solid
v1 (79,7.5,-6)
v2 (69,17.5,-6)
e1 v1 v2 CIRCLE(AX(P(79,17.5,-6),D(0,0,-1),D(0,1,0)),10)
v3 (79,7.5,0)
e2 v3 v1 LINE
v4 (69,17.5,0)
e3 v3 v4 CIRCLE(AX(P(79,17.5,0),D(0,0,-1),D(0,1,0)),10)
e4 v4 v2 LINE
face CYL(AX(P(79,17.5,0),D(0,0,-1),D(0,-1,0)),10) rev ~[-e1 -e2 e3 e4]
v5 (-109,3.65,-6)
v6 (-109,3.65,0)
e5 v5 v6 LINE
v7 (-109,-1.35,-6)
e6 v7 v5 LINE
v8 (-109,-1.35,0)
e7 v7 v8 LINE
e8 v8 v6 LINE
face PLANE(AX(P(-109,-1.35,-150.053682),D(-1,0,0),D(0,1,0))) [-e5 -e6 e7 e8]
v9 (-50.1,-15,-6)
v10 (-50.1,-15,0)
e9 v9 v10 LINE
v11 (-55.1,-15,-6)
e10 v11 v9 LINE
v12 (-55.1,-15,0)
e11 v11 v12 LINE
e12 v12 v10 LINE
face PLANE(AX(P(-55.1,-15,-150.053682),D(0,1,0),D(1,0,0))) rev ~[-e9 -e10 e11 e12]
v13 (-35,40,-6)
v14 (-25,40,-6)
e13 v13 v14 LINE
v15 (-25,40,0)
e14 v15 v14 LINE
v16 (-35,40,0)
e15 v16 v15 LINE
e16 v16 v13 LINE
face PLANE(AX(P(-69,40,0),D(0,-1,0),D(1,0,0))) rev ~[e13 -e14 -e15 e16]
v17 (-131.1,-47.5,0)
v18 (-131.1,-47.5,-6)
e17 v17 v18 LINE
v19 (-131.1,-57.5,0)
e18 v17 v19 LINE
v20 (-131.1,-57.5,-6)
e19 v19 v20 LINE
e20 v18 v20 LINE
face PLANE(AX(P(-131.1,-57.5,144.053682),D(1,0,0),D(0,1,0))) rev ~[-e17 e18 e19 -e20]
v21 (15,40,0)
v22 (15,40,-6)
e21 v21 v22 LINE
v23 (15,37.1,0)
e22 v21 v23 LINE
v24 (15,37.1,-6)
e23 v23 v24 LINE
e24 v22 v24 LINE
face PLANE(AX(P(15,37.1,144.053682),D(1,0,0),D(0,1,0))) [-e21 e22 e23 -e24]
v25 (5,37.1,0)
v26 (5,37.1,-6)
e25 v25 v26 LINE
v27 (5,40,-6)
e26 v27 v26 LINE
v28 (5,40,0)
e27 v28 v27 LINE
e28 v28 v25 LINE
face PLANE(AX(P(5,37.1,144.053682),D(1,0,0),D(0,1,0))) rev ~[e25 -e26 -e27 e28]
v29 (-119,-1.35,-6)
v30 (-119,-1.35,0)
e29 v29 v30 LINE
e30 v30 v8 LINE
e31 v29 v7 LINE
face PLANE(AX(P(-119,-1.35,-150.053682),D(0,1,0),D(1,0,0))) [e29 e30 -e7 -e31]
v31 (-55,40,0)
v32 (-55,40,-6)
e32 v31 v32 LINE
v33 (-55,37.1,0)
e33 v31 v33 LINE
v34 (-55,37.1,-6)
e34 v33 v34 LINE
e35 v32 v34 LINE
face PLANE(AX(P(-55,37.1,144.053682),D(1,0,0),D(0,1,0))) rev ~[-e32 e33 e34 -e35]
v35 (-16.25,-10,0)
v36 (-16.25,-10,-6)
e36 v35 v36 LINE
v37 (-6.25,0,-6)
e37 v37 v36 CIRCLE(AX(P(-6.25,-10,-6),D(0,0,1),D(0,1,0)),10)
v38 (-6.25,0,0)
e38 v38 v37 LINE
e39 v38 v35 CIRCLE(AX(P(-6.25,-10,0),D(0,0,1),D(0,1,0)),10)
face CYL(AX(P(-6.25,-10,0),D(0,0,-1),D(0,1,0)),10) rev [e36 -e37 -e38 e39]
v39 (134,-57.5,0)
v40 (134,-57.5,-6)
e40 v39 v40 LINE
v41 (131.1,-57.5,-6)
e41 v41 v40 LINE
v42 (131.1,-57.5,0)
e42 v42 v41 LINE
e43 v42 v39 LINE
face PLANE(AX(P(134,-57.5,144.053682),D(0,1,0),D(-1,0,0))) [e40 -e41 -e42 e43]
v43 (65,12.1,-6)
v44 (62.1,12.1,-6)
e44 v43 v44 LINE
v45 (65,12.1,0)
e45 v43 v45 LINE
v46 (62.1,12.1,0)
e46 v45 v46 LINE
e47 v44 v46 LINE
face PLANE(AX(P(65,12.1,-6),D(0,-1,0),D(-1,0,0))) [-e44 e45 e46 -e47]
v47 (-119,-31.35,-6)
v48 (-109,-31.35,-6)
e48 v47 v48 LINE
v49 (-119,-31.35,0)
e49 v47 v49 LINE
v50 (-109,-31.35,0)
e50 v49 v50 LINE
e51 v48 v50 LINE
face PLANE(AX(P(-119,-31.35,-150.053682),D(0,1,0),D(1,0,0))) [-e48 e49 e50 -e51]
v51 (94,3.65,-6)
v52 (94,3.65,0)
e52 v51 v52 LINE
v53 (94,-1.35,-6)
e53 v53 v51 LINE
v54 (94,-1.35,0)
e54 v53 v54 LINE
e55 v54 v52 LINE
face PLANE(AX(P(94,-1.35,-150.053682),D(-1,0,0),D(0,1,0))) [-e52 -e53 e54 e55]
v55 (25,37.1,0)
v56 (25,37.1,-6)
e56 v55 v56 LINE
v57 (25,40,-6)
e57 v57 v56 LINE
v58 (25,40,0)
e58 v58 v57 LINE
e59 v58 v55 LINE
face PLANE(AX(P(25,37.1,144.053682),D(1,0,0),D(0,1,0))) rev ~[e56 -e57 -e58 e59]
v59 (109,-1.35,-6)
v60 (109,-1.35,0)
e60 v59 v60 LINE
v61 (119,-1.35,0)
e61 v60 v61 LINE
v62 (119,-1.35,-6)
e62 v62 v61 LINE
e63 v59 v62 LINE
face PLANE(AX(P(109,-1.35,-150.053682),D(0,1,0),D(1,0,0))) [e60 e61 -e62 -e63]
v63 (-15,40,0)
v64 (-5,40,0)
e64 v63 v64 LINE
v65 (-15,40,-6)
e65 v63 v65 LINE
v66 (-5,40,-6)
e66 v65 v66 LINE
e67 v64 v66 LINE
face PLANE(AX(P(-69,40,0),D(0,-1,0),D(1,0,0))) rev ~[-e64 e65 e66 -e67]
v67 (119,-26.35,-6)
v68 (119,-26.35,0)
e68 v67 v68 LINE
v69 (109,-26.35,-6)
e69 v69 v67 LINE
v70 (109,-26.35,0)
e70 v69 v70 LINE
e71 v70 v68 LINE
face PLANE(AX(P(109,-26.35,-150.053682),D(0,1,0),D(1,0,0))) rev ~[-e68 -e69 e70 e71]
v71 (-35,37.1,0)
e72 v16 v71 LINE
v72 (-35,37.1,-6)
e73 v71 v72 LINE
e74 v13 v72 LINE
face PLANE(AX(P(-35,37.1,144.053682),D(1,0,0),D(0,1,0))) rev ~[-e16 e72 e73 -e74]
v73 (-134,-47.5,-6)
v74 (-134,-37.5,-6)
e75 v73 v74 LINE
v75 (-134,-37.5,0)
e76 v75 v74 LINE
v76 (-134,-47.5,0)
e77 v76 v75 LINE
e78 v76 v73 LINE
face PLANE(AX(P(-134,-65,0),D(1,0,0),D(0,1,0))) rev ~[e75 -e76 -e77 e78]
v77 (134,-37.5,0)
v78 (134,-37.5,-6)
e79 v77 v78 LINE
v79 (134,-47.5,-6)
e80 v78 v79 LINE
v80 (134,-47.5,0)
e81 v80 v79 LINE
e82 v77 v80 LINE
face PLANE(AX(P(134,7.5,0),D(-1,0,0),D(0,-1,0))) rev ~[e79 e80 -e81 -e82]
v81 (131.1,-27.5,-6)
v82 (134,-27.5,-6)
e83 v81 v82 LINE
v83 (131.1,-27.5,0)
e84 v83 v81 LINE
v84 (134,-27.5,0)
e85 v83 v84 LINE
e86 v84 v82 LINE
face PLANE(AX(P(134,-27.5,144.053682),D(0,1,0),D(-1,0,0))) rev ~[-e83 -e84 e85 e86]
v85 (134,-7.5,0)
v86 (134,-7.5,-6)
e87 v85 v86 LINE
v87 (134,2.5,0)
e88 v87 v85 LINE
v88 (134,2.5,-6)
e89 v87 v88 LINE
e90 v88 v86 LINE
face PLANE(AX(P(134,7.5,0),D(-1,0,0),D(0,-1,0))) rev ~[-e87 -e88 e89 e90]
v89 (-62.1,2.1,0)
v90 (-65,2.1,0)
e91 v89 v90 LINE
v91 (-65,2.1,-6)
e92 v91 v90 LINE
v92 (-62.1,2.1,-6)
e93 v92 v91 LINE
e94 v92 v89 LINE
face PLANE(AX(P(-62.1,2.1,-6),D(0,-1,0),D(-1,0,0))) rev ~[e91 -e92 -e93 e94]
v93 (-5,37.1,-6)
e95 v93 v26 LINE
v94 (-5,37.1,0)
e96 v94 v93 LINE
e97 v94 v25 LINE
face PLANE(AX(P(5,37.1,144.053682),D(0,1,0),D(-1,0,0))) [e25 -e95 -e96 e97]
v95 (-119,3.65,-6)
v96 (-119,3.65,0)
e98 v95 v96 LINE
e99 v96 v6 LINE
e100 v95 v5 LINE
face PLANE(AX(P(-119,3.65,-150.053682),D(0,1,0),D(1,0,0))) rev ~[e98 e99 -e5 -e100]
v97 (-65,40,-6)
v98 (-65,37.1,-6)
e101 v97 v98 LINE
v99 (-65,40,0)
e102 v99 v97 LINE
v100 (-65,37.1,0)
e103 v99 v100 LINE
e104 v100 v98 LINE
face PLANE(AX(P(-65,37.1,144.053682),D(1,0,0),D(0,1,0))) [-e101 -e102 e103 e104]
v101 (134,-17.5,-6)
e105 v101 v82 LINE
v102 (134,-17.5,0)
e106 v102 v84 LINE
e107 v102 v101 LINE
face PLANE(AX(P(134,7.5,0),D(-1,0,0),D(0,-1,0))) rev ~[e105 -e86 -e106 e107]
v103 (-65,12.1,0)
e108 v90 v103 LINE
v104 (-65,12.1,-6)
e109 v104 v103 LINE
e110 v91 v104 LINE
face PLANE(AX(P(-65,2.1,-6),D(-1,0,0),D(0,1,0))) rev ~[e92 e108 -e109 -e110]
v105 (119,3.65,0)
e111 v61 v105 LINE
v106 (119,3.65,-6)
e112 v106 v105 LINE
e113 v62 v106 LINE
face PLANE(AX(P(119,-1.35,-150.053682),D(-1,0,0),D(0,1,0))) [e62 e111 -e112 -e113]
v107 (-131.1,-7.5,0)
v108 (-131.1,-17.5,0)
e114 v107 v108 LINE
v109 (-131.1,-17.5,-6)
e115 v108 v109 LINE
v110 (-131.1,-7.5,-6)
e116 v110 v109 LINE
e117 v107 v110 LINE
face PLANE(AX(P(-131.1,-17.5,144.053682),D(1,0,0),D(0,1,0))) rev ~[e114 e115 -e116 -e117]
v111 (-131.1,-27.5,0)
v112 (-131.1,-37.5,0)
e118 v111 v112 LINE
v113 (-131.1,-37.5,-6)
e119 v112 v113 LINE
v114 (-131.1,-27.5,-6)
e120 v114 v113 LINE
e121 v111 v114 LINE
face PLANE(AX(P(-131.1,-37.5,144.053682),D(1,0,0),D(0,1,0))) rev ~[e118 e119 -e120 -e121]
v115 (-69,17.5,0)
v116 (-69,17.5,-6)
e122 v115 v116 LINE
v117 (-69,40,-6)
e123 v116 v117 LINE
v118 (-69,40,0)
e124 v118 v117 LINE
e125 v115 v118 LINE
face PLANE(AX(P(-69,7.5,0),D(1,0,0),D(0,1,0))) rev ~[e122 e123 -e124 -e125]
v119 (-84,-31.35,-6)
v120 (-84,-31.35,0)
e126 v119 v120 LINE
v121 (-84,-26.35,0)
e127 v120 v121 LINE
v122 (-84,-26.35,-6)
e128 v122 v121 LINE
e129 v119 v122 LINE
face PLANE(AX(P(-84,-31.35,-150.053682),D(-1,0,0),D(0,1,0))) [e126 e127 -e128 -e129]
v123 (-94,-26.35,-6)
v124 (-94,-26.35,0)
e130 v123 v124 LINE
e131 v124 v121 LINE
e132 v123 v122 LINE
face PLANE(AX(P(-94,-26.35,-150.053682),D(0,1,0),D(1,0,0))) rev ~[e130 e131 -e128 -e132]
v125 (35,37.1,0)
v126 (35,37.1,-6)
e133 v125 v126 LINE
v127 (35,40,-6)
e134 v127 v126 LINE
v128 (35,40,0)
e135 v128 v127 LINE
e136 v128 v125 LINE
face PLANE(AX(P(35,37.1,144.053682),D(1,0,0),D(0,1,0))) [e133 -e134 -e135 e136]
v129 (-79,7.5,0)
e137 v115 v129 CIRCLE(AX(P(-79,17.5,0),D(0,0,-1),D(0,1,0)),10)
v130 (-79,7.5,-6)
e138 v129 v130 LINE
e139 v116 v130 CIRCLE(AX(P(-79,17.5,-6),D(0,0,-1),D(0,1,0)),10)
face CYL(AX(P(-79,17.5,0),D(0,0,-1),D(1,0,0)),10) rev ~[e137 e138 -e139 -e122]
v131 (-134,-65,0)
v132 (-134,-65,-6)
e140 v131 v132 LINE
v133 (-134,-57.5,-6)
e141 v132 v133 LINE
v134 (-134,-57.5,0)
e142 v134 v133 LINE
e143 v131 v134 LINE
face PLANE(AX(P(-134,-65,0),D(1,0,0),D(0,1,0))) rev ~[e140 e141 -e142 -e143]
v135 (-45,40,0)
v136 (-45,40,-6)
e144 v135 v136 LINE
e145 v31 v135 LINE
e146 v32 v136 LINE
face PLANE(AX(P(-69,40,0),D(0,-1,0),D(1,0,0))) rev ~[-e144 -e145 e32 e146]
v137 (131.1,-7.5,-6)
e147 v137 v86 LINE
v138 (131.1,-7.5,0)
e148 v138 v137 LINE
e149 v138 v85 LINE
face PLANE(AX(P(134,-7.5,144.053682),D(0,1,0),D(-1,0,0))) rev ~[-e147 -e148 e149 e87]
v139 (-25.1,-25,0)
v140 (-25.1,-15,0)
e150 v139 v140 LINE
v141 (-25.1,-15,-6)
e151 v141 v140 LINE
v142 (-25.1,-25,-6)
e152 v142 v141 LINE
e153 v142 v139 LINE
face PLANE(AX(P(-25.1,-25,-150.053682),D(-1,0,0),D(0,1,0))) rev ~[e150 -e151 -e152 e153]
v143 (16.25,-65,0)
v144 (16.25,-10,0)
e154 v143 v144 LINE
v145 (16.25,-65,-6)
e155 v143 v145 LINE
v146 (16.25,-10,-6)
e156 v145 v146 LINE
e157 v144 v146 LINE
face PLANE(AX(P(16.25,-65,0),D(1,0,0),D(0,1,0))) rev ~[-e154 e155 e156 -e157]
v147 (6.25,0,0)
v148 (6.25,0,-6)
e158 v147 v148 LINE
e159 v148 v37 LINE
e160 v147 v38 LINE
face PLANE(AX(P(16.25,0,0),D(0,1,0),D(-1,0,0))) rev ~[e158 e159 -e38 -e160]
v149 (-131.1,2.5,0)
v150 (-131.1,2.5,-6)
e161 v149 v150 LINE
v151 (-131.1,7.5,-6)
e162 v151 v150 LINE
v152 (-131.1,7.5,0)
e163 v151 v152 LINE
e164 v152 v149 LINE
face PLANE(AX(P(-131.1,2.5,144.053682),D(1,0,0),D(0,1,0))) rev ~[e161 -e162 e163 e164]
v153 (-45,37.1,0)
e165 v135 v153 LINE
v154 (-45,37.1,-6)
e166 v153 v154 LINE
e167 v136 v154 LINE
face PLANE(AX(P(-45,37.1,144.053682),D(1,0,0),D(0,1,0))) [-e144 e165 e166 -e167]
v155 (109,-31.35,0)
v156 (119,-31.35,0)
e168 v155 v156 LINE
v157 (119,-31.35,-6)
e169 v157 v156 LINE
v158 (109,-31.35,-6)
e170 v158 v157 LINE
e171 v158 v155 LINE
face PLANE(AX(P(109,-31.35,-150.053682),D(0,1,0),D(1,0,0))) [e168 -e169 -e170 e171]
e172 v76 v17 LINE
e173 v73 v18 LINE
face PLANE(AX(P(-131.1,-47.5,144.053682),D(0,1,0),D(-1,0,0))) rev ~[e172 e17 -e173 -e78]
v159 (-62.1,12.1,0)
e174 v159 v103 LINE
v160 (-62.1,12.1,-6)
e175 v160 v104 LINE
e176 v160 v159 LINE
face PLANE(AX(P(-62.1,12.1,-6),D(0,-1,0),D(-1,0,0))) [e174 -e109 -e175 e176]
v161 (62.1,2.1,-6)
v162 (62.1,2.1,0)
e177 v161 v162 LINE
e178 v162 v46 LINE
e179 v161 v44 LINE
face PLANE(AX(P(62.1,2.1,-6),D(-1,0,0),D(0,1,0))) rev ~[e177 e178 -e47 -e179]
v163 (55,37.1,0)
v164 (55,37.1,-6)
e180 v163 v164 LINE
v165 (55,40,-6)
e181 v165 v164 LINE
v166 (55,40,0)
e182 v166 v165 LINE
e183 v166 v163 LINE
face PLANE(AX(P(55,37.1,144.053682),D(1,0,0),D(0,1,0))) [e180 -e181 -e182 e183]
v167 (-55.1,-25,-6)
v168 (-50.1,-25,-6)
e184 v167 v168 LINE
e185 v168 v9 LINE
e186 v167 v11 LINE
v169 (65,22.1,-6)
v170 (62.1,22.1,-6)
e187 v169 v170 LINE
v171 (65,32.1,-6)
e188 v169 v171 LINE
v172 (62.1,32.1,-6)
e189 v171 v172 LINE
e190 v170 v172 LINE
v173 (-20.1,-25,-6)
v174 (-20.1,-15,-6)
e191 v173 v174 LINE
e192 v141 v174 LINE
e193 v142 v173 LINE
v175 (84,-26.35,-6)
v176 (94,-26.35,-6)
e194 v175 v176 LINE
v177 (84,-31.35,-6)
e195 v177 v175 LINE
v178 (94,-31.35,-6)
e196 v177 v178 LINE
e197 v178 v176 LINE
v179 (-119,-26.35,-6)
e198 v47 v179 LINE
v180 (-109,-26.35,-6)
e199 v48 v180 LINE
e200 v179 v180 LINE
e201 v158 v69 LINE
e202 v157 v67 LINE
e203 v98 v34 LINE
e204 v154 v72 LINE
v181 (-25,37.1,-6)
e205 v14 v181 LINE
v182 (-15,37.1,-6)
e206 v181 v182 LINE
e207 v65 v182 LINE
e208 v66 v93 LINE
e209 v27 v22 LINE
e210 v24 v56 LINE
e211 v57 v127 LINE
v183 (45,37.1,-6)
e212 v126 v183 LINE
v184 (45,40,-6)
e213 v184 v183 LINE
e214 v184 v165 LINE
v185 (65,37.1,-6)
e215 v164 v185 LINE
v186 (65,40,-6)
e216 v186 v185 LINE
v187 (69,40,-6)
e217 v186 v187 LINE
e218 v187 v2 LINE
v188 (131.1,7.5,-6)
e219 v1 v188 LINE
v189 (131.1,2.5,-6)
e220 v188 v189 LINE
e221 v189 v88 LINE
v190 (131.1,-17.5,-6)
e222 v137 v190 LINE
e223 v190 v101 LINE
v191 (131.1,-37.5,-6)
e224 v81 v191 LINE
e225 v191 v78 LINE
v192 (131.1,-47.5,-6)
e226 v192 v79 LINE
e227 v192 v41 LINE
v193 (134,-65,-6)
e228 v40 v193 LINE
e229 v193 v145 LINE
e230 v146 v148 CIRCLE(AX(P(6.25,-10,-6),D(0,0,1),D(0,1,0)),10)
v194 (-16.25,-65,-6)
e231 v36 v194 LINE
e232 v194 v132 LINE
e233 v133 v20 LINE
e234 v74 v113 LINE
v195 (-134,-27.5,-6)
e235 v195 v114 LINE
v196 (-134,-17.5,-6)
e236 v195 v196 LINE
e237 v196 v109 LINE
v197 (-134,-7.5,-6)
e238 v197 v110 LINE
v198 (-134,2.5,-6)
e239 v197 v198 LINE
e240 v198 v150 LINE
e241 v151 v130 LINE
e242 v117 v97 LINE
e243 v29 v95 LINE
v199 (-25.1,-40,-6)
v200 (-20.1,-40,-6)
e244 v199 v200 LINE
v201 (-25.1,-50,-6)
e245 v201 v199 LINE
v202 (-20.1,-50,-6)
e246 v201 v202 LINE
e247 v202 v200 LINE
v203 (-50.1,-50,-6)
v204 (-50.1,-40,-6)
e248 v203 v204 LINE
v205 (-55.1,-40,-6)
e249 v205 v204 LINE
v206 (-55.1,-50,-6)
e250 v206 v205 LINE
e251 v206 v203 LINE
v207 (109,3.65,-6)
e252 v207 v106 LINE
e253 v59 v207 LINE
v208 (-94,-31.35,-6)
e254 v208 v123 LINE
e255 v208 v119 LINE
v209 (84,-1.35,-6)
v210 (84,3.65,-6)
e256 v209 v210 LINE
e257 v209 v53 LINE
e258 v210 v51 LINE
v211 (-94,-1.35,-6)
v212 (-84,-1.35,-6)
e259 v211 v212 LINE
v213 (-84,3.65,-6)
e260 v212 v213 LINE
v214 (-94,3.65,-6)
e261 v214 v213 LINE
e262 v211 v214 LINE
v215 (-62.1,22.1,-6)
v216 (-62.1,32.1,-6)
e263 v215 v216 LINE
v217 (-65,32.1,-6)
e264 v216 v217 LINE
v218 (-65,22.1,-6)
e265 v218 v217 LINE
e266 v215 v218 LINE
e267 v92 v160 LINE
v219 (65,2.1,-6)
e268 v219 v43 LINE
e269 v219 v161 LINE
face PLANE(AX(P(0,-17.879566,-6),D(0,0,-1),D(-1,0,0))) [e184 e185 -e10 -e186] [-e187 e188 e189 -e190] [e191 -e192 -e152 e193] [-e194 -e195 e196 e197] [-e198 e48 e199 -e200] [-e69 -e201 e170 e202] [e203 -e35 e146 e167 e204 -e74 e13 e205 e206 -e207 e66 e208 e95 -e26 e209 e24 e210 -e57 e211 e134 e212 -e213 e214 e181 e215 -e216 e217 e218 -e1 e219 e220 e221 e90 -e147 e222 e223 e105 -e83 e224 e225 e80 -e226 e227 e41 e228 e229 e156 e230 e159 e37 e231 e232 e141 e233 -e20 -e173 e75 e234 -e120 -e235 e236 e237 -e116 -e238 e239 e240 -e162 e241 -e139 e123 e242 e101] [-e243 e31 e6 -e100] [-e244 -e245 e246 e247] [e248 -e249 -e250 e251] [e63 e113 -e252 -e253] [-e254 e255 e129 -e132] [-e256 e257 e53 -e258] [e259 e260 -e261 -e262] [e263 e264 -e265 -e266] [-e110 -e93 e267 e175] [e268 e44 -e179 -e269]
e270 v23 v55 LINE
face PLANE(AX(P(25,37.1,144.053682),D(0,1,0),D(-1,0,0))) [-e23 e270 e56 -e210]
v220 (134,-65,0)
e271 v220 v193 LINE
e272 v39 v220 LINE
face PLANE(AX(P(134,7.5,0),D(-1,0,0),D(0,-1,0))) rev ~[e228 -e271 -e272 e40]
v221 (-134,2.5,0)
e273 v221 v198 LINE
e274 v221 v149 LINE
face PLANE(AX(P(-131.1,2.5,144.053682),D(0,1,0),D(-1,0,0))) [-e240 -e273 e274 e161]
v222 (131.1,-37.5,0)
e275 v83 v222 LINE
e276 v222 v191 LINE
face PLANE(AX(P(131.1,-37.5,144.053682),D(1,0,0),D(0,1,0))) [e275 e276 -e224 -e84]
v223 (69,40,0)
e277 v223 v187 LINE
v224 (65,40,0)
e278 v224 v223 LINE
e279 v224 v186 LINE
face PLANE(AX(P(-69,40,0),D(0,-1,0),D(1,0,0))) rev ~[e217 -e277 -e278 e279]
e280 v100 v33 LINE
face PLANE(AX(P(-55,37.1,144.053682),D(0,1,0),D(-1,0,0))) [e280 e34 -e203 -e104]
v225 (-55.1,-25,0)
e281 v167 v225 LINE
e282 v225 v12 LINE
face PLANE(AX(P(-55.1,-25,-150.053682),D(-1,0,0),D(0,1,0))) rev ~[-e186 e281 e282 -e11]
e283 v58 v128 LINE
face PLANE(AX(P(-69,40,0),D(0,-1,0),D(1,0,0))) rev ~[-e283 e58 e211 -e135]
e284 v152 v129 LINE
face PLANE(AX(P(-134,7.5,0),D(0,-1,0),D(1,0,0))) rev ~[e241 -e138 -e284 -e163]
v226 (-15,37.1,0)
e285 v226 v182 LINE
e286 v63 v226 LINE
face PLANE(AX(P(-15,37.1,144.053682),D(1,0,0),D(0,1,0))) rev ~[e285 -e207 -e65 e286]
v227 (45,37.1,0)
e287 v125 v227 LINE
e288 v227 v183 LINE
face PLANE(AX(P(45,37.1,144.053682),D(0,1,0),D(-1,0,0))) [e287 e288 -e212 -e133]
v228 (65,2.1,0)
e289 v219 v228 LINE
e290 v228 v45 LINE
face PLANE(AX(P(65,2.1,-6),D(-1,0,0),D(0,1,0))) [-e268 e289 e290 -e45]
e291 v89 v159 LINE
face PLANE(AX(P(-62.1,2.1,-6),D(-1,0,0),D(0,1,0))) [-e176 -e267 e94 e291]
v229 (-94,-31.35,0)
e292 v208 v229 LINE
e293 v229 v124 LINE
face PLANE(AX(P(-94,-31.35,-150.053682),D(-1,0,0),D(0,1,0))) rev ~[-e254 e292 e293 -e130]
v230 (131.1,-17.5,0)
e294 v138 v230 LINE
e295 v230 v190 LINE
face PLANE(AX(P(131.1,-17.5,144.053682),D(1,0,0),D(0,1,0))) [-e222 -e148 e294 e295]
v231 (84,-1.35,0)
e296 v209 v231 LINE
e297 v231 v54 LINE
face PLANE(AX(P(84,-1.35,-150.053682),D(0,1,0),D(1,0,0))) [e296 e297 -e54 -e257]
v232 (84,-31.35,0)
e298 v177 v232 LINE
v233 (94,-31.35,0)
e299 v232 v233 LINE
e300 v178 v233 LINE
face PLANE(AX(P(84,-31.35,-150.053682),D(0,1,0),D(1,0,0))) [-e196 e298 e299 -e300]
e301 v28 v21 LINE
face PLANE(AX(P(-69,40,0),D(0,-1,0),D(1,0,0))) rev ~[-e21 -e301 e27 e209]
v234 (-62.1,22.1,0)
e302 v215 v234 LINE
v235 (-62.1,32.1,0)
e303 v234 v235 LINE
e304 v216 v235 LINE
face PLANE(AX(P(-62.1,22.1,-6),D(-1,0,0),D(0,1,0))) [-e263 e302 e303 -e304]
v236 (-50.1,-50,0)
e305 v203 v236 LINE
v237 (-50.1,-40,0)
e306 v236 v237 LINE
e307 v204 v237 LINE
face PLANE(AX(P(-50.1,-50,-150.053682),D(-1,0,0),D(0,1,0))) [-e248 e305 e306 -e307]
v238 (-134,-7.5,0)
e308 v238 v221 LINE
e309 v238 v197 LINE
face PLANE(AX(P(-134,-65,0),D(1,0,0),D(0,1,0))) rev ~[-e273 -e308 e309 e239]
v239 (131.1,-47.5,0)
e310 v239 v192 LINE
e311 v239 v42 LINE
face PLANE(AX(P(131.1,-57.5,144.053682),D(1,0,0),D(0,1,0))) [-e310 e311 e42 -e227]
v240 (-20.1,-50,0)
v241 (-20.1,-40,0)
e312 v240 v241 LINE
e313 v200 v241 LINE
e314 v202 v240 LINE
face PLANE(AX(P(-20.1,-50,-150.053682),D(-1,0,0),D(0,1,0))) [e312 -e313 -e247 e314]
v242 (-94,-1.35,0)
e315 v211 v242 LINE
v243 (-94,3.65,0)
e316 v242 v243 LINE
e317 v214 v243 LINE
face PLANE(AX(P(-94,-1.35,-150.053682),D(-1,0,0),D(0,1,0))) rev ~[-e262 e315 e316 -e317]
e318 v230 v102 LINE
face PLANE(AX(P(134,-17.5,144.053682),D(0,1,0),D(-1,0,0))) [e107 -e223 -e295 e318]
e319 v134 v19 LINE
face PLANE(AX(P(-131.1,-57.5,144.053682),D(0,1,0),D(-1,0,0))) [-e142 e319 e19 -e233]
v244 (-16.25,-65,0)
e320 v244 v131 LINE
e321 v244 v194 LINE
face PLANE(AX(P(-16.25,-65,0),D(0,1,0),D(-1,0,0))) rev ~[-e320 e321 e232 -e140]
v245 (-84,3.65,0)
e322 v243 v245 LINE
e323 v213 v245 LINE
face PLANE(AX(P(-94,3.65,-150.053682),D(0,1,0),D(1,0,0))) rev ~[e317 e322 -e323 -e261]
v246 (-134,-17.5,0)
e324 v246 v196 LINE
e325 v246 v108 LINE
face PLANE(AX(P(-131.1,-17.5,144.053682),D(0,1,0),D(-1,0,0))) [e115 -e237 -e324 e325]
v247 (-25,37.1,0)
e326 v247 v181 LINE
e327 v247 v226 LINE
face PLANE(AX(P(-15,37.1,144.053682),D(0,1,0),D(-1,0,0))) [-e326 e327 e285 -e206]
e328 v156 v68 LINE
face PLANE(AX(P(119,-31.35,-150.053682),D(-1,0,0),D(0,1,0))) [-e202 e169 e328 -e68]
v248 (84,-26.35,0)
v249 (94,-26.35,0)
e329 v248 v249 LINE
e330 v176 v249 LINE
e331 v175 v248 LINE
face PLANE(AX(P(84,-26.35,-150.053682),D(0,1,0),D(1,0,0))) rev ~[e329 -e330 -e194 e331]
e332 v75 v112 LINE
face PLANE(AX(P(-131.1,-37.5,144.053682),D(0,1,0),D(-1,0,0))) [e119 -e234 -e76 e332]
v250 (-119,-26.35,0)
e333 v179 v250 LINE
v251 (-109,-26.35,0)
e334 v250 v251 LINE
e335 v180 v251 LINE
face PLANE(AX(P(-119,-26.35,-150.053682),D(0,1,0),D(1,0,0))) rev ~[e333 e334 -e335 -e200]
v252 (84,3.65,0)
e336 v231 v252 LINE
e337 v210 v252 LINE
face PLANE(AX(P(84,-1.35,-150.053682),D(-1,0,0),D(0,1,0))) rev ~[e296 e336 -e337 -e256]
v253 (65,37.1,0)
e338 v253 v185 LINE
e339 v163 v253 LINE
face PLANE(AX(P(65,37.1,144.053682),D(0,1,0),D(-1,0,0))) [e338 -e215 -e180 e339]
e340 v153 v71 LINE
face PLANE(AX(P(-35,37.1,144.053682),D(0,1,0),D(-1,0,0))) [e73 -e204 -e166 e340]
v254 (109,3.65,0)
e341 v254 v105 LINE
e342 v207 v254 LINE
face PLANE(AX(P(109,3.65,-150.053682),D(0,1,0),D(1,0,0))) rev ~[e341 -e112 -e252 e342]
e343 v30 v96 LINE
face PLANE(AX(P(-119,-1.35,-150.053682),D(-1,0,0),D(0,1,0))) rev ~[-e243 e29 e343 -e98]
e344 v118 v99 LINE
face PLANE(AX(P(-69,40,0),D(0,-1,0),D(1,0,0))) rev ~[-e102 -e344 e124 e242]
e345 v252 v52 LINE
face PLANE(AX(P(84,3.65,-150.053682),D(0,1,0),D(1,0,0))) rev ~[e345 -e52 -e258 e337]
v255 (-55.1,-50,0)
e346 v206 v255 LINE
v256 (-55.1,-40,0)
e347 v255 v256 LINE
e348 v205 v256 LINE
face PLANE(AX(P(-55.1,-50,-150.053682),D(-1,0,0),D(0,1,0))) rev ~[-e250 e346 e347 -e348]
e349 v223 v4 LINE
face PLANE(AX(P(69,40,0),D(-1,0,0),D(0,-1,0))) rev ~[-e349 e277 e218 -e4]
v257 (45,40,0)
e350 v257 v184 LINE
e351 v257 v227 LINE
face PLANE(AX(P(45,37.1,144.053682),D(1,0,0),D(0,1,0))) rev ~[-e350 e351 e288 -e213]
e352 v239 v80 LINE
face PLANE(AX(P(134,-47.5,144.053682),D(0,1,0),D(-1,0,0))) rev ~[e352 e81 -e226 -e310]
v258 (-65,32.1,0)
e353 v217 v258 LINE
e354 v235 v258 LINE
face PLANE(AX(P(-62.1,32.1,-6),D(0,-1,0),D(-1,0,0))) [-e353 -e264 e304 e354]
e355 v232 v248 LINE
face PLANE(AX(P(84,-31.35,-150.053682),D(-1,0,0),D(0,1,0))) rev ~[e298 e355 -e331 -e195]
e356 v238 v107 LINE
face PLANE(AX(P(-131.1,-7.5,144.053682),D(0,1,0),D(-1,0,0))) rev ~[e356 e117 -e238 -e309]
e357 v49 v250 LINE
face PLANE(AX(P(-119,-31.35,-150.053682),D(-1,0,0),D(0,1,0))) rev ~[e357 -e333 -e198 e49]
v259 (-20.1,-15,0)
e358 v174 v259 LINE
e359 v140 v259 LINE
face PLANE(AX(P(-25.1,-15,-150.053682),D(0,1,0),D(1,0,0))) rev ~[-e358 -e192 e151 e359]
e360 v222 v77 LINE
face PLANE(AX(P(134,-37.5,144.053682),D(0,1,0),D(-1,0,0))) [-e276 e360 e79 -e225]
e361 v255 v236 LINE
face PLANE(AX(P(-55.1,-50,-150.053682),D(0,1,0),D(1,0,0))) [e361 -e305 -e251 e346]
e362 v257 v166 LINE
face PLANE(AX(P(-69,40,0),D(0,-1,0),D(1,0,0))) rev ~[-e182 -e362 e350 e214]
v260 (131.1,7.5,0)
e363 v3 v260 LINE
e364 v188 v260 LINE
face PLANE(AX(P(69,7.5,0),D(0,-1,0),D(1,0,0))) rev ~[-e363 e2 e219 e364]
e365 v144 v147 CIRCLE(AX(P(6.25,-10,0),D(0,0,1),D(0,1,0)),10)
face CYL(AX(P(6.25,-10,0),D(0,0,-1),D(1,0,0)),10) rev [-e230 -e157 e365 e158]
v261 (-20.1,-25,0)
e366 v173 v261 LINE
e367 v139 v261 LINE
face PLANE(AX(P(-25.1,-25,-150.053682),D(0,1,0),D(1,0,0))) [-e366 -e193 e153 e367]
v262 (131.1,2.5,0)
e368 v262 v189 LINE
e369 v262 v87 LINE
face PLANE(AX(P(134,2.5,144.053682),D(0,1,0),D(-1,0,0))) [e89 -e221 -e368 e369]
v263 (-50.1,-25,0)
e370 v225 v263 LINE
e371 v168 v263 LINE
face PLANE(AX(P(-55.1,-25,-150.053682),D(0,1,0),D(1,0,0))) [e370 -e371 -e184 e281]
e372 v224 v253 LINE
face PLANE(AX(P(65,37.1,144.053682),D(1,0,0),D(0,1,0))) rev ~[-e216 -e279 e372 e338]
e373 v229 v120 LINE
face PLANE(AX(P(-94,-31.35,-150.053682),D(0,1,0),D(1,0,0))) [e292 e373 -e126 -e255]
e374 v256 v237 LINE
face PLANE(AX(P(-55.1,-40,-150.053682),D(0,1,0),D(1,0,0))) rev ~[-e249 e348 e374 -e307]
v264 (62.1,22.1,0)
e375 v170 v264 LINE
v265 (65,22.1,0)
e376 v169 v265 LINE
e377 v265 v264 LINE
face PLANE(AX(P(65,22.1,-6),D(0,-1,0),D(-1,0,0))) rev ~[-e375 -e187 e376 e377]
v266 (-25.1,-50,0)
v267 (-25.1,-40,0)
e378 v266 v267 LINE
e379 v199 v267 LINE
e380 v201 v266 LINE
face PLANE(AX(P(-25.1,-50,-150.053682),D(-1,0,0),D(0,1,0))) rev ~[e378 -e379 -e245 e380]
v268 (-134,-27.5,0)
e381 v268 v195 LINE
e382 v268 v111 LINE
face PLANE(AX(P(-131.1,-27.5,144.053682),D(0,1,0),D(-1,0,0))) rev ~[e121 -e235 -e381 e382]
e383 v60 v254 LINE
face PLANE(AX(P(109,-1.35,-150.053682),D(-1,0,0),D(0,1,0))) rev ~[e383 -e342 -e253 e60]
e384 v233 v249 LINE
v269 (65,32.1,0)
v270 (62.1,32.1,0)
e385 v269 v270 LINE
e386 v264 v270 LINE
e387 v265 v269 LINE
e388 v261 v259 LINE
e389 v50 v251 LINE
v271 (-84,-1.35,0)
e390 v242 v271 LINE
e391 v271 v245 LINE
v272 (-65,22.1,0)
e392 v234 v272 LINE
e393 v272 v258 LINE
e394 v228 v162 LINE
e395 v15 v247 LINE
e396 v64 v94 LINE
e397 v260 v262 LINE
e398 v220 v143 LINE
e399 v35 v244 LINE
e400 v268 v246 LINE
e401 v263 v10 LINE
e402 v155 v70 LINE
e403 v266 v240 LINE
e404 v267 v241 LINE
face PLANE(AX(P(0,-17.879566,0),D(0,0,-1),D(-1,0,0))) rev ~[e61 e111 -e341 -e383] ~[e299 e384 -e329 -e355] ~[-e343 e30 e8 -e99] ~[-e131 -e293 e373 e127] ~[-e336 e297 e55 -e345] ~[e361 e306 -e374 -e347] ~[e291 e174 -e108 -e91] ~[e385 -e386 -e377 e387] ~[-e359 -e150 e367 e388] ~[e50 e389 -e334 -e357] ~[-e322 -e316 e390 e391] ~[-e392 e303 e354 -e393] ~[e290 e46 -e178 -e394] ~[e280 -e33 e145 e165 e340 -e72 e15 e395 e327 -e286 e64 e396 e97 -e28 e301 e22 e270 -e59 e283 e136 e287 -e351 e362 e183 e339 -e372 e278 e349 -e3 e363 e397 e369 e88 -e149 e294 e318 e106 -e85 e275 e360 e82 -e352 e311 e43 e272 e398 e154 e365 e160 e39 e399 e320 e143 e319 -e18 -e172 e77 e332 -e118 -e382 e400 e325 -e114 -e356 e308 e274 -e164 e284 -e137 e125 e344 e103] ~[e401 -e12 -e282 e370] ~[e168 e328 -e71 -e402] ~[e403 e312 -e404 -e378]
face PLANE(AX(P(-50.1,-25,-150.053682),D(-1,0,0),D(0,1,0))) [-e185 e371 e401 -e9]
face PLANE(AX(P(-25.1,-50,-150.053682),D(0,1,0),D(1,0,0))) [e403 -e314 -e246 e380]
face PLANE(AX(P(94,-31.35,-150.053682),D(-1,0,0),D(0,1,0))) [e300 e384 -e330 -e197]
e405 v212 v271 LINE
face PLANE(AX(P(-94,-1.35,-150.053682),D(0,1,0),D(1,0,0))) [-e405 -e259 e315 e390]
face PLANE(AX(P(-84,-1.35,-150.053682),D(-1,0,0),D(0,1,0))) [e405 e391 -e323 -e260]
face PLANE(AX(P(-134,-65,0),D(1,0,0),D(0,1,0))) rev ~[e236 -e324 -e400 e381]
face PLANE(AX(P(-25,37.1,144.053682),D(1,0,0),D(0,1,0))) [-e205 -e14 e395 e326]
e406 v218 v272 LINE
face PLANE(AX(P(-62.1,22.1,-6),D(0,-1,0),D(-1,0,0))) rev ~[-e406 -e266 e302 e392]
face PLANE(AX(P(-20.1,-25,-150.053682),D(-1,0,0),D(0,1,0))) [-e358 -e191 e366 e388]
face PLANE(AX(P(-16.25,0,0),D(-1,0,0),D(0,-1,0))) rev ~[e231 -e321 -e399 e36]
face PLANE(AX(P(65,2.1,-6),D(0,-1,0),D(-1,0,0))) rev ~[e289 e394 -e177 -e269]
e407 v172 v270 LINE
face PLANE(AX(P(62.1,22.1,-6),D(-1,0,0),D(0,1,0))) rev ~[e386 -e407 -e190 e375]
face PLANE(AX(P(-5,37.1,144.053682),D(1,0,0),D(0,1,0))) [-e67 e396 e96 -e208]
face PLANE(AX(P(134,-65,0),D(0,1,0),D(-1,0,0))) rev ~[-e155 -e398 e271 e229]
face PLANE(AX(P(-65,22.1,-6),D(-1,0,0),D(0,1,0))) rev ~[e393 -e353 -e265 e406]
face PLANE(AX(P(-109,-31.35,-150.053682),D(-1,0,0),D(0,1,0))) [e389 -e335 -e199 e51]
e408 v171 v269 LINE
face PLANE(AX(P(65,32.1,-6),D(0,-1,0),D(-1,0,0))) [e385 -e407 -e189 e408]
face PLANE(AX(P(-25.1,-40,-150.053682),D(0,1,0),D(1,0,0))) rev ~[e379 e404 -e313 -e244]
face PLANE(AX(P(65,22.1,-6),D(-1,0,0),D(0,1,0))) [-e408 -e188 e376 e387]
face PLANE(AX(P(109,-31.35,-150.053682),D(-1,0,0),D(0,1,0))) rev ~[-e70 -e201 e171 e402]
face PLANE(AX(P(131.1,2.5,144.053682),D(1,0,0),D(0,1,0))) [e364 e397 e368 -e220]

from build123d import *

# Parameters (mm, degrees)
BOSS_EXTRUDE1_DEPTH     = 6
CUT_EXTRUDE1_DEPTH      = 150.053681605
CUT_EXTRUDE1_DEPTH_BACK = 150.053681605
SKETCH2_W               = 10
SKETCH2_H               = 5
SKETCH2_W_2             = 5
SKETCH2_H_2             = 10
FILLET1_R               = 10
CUT_EXTRUDE2_DEPTH      = 150.053681605
CUT_EXTRUDE2_DEPTH_BACK = 150.053681605
SKETCH3_W               = 10
SKETCH3_H               = 2.9
SKETCH3_W_2             = 2.9
SKETCH3_H_2             = 10
SKETCH4_W               = 2.9
SKETCH4_H               = 10
CUT_EXTRUDE3_DEPTH      = 150.053681605


with BuildPart() as part:
    # Sketch1 → Boss-Extrude1 (new body)
    with BuildSketch(Plane.XY):
        Polygon((134, -65), (16.25, -65), (16.25, 0), (-16.25, 0), (-16.25, -65), (-134, -65), (-134, 7.5), (-69, 7.5), (-69, 40), (69, 40), (69, 7.5), (134, 7.5), align=None)
    extrude(amount=-BOSS_EXTRUDE1_DEPTH)

    # Sketch2 → Cut-Extrude1 (cut, two sides: drawn at the far end of the back side and taken through both)
    with BuildSketch(Plane.XY.offset(-CUT_EXTRUDE1_DEPTH_BACK)):
        with Locations((-114, 1.15)):
            Rectangle(SKETCH2_W, SKETCH2_H)
        with Locations((-114, -28.85)):
            Rectangle(SKETCH2_W, SKETCH2_H)
        with Locations((-89, -28.85)):
            Rectangle(SKETCH2_W, SKETCH2_H)
        with Locations((-89, 1.15)):
            Rectangle(SKETCH2_W, SKETCH2_H)
        with Locations((-52.6, -20)):
            Rectangle(SKETCH2_W_2, SKETCH2_H_2)
        with Locations((-22.6, -20)):
            Rectangle(SKETCH2_W_2, SKETCH2_H_2)
        with Locations((-52.6, -45)):
            Rectangle(SKETCH2_W_2, SKETCH2_H_2)
        with Locations((-22.6, -45)):
            Rectangle(SKETCH2_W_2, SKETCH2_H_2)
        with Locations((89, -28.85)):
            Rectangle(SKETCH2_W, SKETCH2_H)
        with Locations((114, -28.85)):
            Rectangle(SKETCH2_W, SKETCH2_H)
        with Locations((114, 1.15)):
            Rectangle(SKETCH2_W, SKETCH2_H)
        with Locations((89, 1.15)):
            Rectangle(SKETCH2_W, SKETCH2_H)
    extrude(amount=CUT_EXTRUDE1_DEPTH + CUT_EXTRUDE1_DEPTH_BACK, mode=Mode.SUBTRACT)

    # Fillet1
    fillet1_edges = [part.edges().sort_by_distance(p)[0] for p in [
        (16.25, 0, -3),
        (-16.25, 0, -3),
        (-69, 7.5, -3),
        (69, 7.5, -3),
    ]]
    fillet(fillet1_edges, radius=FILLET1_R)

    # Sketch3 → Cut-Extrude2 (cut, two sides: drawn at the far end of the back side and taken through both)
    with BuildSketch(Plane(origin=(0, 0, -6), x_dir=(-1, 0, 0), z_dir=(0, 0, -1)).offset(-CUT_EXTRUDE2_DEPTH_BACK)):
        with Locations((0, 38.55)):
            Rectangle(SKETCH3_W, SKETCH3_H)
        with Locations((20, 38.55)):
            Rectangle(SKETCH3_W, SKETCH3_H)
        with Locations((40, 38.55)):
            Rectangle(SKETCH3_W, SKETCH3_H)
        with Locations((60, 38.55)):
            Rectangle(SKETCH3_W, SKETCH3_H)
        with Locations((-20, 38.55)):
            Rectangle(SKETCH3_W, SKETCH3_H)
        with Locations((-40, 38.55)):
            Rectangle(SKETCH3_W, SKETCH3_H)
        with Locations((-60, 38.55)):
            Rectangle(SKETCH3_W, SKETCH3_H)
        with Locations((-132.55, -12.5)):
            Rectangle(SKETCH3_W_2, SKETCH3_H_2)
        with Locations((-132.55, 7.5)):
            Rectangle(SKETCH3_W_2, SKETCH3_H_2)
        with Locations((-132.55, -32.5)):
            Rectangle(SKETCH3_W_2, SKETCH3_H_2)
        with Locations((-132.55, -52.5)):
            Rectangle(SKETCH3_W_2, SKETCH3_H_2)
        with Locations((132.55, -52.5)):
            Rectangle(SKETCH3_W_2, SKETCH3_H_2)
        with Locations((132.55, -32.5)):
            Rectangle(SKETCH3_W_2, SKETCH3_H_2)
        with Locations((132.55, -12.5)):
            Rectangle(SKETCH3_W_2, SKETCH3_H_2)
        with Locations((132.55, 7.5)):
            Rectangle(SKETCH3_W_2, SKETCH3_H_2)
    extrude(amount=CUT_EXTRUDE2_DEPTH + CUT_EXTRUDE2_DEPTH_BACK, mode=Mode.SUBTRACT)

    # Sketch4 → Cut-Extrude3 (cut, through all)
    with BuildSketch(Plane(origin=(0, 0, -6), x_dir=(-1, 0, 0), z_dir=(0, 0, -1))):
        with Locations((63.55, 27.1)):
            Rectangle(SKETCH4_W, SKETCH4_H)
        with Locations((63.55, 7.1)):
            Rectangle(SKETCH4_W, SKETCH4_H)
        with Locations((-63.55, 7.1)):
            Rectangle(SKETCH4_W, SKETCH4_H)
        with Locations((-63.55, 27.1)):
            Rectangle(SKETCH4_W, SKETCH4_H)
    extrude(amount=-CUT_EXTRUDE3_DEPTH, mode=Mode.SUBTRACT)


solid = part.part
